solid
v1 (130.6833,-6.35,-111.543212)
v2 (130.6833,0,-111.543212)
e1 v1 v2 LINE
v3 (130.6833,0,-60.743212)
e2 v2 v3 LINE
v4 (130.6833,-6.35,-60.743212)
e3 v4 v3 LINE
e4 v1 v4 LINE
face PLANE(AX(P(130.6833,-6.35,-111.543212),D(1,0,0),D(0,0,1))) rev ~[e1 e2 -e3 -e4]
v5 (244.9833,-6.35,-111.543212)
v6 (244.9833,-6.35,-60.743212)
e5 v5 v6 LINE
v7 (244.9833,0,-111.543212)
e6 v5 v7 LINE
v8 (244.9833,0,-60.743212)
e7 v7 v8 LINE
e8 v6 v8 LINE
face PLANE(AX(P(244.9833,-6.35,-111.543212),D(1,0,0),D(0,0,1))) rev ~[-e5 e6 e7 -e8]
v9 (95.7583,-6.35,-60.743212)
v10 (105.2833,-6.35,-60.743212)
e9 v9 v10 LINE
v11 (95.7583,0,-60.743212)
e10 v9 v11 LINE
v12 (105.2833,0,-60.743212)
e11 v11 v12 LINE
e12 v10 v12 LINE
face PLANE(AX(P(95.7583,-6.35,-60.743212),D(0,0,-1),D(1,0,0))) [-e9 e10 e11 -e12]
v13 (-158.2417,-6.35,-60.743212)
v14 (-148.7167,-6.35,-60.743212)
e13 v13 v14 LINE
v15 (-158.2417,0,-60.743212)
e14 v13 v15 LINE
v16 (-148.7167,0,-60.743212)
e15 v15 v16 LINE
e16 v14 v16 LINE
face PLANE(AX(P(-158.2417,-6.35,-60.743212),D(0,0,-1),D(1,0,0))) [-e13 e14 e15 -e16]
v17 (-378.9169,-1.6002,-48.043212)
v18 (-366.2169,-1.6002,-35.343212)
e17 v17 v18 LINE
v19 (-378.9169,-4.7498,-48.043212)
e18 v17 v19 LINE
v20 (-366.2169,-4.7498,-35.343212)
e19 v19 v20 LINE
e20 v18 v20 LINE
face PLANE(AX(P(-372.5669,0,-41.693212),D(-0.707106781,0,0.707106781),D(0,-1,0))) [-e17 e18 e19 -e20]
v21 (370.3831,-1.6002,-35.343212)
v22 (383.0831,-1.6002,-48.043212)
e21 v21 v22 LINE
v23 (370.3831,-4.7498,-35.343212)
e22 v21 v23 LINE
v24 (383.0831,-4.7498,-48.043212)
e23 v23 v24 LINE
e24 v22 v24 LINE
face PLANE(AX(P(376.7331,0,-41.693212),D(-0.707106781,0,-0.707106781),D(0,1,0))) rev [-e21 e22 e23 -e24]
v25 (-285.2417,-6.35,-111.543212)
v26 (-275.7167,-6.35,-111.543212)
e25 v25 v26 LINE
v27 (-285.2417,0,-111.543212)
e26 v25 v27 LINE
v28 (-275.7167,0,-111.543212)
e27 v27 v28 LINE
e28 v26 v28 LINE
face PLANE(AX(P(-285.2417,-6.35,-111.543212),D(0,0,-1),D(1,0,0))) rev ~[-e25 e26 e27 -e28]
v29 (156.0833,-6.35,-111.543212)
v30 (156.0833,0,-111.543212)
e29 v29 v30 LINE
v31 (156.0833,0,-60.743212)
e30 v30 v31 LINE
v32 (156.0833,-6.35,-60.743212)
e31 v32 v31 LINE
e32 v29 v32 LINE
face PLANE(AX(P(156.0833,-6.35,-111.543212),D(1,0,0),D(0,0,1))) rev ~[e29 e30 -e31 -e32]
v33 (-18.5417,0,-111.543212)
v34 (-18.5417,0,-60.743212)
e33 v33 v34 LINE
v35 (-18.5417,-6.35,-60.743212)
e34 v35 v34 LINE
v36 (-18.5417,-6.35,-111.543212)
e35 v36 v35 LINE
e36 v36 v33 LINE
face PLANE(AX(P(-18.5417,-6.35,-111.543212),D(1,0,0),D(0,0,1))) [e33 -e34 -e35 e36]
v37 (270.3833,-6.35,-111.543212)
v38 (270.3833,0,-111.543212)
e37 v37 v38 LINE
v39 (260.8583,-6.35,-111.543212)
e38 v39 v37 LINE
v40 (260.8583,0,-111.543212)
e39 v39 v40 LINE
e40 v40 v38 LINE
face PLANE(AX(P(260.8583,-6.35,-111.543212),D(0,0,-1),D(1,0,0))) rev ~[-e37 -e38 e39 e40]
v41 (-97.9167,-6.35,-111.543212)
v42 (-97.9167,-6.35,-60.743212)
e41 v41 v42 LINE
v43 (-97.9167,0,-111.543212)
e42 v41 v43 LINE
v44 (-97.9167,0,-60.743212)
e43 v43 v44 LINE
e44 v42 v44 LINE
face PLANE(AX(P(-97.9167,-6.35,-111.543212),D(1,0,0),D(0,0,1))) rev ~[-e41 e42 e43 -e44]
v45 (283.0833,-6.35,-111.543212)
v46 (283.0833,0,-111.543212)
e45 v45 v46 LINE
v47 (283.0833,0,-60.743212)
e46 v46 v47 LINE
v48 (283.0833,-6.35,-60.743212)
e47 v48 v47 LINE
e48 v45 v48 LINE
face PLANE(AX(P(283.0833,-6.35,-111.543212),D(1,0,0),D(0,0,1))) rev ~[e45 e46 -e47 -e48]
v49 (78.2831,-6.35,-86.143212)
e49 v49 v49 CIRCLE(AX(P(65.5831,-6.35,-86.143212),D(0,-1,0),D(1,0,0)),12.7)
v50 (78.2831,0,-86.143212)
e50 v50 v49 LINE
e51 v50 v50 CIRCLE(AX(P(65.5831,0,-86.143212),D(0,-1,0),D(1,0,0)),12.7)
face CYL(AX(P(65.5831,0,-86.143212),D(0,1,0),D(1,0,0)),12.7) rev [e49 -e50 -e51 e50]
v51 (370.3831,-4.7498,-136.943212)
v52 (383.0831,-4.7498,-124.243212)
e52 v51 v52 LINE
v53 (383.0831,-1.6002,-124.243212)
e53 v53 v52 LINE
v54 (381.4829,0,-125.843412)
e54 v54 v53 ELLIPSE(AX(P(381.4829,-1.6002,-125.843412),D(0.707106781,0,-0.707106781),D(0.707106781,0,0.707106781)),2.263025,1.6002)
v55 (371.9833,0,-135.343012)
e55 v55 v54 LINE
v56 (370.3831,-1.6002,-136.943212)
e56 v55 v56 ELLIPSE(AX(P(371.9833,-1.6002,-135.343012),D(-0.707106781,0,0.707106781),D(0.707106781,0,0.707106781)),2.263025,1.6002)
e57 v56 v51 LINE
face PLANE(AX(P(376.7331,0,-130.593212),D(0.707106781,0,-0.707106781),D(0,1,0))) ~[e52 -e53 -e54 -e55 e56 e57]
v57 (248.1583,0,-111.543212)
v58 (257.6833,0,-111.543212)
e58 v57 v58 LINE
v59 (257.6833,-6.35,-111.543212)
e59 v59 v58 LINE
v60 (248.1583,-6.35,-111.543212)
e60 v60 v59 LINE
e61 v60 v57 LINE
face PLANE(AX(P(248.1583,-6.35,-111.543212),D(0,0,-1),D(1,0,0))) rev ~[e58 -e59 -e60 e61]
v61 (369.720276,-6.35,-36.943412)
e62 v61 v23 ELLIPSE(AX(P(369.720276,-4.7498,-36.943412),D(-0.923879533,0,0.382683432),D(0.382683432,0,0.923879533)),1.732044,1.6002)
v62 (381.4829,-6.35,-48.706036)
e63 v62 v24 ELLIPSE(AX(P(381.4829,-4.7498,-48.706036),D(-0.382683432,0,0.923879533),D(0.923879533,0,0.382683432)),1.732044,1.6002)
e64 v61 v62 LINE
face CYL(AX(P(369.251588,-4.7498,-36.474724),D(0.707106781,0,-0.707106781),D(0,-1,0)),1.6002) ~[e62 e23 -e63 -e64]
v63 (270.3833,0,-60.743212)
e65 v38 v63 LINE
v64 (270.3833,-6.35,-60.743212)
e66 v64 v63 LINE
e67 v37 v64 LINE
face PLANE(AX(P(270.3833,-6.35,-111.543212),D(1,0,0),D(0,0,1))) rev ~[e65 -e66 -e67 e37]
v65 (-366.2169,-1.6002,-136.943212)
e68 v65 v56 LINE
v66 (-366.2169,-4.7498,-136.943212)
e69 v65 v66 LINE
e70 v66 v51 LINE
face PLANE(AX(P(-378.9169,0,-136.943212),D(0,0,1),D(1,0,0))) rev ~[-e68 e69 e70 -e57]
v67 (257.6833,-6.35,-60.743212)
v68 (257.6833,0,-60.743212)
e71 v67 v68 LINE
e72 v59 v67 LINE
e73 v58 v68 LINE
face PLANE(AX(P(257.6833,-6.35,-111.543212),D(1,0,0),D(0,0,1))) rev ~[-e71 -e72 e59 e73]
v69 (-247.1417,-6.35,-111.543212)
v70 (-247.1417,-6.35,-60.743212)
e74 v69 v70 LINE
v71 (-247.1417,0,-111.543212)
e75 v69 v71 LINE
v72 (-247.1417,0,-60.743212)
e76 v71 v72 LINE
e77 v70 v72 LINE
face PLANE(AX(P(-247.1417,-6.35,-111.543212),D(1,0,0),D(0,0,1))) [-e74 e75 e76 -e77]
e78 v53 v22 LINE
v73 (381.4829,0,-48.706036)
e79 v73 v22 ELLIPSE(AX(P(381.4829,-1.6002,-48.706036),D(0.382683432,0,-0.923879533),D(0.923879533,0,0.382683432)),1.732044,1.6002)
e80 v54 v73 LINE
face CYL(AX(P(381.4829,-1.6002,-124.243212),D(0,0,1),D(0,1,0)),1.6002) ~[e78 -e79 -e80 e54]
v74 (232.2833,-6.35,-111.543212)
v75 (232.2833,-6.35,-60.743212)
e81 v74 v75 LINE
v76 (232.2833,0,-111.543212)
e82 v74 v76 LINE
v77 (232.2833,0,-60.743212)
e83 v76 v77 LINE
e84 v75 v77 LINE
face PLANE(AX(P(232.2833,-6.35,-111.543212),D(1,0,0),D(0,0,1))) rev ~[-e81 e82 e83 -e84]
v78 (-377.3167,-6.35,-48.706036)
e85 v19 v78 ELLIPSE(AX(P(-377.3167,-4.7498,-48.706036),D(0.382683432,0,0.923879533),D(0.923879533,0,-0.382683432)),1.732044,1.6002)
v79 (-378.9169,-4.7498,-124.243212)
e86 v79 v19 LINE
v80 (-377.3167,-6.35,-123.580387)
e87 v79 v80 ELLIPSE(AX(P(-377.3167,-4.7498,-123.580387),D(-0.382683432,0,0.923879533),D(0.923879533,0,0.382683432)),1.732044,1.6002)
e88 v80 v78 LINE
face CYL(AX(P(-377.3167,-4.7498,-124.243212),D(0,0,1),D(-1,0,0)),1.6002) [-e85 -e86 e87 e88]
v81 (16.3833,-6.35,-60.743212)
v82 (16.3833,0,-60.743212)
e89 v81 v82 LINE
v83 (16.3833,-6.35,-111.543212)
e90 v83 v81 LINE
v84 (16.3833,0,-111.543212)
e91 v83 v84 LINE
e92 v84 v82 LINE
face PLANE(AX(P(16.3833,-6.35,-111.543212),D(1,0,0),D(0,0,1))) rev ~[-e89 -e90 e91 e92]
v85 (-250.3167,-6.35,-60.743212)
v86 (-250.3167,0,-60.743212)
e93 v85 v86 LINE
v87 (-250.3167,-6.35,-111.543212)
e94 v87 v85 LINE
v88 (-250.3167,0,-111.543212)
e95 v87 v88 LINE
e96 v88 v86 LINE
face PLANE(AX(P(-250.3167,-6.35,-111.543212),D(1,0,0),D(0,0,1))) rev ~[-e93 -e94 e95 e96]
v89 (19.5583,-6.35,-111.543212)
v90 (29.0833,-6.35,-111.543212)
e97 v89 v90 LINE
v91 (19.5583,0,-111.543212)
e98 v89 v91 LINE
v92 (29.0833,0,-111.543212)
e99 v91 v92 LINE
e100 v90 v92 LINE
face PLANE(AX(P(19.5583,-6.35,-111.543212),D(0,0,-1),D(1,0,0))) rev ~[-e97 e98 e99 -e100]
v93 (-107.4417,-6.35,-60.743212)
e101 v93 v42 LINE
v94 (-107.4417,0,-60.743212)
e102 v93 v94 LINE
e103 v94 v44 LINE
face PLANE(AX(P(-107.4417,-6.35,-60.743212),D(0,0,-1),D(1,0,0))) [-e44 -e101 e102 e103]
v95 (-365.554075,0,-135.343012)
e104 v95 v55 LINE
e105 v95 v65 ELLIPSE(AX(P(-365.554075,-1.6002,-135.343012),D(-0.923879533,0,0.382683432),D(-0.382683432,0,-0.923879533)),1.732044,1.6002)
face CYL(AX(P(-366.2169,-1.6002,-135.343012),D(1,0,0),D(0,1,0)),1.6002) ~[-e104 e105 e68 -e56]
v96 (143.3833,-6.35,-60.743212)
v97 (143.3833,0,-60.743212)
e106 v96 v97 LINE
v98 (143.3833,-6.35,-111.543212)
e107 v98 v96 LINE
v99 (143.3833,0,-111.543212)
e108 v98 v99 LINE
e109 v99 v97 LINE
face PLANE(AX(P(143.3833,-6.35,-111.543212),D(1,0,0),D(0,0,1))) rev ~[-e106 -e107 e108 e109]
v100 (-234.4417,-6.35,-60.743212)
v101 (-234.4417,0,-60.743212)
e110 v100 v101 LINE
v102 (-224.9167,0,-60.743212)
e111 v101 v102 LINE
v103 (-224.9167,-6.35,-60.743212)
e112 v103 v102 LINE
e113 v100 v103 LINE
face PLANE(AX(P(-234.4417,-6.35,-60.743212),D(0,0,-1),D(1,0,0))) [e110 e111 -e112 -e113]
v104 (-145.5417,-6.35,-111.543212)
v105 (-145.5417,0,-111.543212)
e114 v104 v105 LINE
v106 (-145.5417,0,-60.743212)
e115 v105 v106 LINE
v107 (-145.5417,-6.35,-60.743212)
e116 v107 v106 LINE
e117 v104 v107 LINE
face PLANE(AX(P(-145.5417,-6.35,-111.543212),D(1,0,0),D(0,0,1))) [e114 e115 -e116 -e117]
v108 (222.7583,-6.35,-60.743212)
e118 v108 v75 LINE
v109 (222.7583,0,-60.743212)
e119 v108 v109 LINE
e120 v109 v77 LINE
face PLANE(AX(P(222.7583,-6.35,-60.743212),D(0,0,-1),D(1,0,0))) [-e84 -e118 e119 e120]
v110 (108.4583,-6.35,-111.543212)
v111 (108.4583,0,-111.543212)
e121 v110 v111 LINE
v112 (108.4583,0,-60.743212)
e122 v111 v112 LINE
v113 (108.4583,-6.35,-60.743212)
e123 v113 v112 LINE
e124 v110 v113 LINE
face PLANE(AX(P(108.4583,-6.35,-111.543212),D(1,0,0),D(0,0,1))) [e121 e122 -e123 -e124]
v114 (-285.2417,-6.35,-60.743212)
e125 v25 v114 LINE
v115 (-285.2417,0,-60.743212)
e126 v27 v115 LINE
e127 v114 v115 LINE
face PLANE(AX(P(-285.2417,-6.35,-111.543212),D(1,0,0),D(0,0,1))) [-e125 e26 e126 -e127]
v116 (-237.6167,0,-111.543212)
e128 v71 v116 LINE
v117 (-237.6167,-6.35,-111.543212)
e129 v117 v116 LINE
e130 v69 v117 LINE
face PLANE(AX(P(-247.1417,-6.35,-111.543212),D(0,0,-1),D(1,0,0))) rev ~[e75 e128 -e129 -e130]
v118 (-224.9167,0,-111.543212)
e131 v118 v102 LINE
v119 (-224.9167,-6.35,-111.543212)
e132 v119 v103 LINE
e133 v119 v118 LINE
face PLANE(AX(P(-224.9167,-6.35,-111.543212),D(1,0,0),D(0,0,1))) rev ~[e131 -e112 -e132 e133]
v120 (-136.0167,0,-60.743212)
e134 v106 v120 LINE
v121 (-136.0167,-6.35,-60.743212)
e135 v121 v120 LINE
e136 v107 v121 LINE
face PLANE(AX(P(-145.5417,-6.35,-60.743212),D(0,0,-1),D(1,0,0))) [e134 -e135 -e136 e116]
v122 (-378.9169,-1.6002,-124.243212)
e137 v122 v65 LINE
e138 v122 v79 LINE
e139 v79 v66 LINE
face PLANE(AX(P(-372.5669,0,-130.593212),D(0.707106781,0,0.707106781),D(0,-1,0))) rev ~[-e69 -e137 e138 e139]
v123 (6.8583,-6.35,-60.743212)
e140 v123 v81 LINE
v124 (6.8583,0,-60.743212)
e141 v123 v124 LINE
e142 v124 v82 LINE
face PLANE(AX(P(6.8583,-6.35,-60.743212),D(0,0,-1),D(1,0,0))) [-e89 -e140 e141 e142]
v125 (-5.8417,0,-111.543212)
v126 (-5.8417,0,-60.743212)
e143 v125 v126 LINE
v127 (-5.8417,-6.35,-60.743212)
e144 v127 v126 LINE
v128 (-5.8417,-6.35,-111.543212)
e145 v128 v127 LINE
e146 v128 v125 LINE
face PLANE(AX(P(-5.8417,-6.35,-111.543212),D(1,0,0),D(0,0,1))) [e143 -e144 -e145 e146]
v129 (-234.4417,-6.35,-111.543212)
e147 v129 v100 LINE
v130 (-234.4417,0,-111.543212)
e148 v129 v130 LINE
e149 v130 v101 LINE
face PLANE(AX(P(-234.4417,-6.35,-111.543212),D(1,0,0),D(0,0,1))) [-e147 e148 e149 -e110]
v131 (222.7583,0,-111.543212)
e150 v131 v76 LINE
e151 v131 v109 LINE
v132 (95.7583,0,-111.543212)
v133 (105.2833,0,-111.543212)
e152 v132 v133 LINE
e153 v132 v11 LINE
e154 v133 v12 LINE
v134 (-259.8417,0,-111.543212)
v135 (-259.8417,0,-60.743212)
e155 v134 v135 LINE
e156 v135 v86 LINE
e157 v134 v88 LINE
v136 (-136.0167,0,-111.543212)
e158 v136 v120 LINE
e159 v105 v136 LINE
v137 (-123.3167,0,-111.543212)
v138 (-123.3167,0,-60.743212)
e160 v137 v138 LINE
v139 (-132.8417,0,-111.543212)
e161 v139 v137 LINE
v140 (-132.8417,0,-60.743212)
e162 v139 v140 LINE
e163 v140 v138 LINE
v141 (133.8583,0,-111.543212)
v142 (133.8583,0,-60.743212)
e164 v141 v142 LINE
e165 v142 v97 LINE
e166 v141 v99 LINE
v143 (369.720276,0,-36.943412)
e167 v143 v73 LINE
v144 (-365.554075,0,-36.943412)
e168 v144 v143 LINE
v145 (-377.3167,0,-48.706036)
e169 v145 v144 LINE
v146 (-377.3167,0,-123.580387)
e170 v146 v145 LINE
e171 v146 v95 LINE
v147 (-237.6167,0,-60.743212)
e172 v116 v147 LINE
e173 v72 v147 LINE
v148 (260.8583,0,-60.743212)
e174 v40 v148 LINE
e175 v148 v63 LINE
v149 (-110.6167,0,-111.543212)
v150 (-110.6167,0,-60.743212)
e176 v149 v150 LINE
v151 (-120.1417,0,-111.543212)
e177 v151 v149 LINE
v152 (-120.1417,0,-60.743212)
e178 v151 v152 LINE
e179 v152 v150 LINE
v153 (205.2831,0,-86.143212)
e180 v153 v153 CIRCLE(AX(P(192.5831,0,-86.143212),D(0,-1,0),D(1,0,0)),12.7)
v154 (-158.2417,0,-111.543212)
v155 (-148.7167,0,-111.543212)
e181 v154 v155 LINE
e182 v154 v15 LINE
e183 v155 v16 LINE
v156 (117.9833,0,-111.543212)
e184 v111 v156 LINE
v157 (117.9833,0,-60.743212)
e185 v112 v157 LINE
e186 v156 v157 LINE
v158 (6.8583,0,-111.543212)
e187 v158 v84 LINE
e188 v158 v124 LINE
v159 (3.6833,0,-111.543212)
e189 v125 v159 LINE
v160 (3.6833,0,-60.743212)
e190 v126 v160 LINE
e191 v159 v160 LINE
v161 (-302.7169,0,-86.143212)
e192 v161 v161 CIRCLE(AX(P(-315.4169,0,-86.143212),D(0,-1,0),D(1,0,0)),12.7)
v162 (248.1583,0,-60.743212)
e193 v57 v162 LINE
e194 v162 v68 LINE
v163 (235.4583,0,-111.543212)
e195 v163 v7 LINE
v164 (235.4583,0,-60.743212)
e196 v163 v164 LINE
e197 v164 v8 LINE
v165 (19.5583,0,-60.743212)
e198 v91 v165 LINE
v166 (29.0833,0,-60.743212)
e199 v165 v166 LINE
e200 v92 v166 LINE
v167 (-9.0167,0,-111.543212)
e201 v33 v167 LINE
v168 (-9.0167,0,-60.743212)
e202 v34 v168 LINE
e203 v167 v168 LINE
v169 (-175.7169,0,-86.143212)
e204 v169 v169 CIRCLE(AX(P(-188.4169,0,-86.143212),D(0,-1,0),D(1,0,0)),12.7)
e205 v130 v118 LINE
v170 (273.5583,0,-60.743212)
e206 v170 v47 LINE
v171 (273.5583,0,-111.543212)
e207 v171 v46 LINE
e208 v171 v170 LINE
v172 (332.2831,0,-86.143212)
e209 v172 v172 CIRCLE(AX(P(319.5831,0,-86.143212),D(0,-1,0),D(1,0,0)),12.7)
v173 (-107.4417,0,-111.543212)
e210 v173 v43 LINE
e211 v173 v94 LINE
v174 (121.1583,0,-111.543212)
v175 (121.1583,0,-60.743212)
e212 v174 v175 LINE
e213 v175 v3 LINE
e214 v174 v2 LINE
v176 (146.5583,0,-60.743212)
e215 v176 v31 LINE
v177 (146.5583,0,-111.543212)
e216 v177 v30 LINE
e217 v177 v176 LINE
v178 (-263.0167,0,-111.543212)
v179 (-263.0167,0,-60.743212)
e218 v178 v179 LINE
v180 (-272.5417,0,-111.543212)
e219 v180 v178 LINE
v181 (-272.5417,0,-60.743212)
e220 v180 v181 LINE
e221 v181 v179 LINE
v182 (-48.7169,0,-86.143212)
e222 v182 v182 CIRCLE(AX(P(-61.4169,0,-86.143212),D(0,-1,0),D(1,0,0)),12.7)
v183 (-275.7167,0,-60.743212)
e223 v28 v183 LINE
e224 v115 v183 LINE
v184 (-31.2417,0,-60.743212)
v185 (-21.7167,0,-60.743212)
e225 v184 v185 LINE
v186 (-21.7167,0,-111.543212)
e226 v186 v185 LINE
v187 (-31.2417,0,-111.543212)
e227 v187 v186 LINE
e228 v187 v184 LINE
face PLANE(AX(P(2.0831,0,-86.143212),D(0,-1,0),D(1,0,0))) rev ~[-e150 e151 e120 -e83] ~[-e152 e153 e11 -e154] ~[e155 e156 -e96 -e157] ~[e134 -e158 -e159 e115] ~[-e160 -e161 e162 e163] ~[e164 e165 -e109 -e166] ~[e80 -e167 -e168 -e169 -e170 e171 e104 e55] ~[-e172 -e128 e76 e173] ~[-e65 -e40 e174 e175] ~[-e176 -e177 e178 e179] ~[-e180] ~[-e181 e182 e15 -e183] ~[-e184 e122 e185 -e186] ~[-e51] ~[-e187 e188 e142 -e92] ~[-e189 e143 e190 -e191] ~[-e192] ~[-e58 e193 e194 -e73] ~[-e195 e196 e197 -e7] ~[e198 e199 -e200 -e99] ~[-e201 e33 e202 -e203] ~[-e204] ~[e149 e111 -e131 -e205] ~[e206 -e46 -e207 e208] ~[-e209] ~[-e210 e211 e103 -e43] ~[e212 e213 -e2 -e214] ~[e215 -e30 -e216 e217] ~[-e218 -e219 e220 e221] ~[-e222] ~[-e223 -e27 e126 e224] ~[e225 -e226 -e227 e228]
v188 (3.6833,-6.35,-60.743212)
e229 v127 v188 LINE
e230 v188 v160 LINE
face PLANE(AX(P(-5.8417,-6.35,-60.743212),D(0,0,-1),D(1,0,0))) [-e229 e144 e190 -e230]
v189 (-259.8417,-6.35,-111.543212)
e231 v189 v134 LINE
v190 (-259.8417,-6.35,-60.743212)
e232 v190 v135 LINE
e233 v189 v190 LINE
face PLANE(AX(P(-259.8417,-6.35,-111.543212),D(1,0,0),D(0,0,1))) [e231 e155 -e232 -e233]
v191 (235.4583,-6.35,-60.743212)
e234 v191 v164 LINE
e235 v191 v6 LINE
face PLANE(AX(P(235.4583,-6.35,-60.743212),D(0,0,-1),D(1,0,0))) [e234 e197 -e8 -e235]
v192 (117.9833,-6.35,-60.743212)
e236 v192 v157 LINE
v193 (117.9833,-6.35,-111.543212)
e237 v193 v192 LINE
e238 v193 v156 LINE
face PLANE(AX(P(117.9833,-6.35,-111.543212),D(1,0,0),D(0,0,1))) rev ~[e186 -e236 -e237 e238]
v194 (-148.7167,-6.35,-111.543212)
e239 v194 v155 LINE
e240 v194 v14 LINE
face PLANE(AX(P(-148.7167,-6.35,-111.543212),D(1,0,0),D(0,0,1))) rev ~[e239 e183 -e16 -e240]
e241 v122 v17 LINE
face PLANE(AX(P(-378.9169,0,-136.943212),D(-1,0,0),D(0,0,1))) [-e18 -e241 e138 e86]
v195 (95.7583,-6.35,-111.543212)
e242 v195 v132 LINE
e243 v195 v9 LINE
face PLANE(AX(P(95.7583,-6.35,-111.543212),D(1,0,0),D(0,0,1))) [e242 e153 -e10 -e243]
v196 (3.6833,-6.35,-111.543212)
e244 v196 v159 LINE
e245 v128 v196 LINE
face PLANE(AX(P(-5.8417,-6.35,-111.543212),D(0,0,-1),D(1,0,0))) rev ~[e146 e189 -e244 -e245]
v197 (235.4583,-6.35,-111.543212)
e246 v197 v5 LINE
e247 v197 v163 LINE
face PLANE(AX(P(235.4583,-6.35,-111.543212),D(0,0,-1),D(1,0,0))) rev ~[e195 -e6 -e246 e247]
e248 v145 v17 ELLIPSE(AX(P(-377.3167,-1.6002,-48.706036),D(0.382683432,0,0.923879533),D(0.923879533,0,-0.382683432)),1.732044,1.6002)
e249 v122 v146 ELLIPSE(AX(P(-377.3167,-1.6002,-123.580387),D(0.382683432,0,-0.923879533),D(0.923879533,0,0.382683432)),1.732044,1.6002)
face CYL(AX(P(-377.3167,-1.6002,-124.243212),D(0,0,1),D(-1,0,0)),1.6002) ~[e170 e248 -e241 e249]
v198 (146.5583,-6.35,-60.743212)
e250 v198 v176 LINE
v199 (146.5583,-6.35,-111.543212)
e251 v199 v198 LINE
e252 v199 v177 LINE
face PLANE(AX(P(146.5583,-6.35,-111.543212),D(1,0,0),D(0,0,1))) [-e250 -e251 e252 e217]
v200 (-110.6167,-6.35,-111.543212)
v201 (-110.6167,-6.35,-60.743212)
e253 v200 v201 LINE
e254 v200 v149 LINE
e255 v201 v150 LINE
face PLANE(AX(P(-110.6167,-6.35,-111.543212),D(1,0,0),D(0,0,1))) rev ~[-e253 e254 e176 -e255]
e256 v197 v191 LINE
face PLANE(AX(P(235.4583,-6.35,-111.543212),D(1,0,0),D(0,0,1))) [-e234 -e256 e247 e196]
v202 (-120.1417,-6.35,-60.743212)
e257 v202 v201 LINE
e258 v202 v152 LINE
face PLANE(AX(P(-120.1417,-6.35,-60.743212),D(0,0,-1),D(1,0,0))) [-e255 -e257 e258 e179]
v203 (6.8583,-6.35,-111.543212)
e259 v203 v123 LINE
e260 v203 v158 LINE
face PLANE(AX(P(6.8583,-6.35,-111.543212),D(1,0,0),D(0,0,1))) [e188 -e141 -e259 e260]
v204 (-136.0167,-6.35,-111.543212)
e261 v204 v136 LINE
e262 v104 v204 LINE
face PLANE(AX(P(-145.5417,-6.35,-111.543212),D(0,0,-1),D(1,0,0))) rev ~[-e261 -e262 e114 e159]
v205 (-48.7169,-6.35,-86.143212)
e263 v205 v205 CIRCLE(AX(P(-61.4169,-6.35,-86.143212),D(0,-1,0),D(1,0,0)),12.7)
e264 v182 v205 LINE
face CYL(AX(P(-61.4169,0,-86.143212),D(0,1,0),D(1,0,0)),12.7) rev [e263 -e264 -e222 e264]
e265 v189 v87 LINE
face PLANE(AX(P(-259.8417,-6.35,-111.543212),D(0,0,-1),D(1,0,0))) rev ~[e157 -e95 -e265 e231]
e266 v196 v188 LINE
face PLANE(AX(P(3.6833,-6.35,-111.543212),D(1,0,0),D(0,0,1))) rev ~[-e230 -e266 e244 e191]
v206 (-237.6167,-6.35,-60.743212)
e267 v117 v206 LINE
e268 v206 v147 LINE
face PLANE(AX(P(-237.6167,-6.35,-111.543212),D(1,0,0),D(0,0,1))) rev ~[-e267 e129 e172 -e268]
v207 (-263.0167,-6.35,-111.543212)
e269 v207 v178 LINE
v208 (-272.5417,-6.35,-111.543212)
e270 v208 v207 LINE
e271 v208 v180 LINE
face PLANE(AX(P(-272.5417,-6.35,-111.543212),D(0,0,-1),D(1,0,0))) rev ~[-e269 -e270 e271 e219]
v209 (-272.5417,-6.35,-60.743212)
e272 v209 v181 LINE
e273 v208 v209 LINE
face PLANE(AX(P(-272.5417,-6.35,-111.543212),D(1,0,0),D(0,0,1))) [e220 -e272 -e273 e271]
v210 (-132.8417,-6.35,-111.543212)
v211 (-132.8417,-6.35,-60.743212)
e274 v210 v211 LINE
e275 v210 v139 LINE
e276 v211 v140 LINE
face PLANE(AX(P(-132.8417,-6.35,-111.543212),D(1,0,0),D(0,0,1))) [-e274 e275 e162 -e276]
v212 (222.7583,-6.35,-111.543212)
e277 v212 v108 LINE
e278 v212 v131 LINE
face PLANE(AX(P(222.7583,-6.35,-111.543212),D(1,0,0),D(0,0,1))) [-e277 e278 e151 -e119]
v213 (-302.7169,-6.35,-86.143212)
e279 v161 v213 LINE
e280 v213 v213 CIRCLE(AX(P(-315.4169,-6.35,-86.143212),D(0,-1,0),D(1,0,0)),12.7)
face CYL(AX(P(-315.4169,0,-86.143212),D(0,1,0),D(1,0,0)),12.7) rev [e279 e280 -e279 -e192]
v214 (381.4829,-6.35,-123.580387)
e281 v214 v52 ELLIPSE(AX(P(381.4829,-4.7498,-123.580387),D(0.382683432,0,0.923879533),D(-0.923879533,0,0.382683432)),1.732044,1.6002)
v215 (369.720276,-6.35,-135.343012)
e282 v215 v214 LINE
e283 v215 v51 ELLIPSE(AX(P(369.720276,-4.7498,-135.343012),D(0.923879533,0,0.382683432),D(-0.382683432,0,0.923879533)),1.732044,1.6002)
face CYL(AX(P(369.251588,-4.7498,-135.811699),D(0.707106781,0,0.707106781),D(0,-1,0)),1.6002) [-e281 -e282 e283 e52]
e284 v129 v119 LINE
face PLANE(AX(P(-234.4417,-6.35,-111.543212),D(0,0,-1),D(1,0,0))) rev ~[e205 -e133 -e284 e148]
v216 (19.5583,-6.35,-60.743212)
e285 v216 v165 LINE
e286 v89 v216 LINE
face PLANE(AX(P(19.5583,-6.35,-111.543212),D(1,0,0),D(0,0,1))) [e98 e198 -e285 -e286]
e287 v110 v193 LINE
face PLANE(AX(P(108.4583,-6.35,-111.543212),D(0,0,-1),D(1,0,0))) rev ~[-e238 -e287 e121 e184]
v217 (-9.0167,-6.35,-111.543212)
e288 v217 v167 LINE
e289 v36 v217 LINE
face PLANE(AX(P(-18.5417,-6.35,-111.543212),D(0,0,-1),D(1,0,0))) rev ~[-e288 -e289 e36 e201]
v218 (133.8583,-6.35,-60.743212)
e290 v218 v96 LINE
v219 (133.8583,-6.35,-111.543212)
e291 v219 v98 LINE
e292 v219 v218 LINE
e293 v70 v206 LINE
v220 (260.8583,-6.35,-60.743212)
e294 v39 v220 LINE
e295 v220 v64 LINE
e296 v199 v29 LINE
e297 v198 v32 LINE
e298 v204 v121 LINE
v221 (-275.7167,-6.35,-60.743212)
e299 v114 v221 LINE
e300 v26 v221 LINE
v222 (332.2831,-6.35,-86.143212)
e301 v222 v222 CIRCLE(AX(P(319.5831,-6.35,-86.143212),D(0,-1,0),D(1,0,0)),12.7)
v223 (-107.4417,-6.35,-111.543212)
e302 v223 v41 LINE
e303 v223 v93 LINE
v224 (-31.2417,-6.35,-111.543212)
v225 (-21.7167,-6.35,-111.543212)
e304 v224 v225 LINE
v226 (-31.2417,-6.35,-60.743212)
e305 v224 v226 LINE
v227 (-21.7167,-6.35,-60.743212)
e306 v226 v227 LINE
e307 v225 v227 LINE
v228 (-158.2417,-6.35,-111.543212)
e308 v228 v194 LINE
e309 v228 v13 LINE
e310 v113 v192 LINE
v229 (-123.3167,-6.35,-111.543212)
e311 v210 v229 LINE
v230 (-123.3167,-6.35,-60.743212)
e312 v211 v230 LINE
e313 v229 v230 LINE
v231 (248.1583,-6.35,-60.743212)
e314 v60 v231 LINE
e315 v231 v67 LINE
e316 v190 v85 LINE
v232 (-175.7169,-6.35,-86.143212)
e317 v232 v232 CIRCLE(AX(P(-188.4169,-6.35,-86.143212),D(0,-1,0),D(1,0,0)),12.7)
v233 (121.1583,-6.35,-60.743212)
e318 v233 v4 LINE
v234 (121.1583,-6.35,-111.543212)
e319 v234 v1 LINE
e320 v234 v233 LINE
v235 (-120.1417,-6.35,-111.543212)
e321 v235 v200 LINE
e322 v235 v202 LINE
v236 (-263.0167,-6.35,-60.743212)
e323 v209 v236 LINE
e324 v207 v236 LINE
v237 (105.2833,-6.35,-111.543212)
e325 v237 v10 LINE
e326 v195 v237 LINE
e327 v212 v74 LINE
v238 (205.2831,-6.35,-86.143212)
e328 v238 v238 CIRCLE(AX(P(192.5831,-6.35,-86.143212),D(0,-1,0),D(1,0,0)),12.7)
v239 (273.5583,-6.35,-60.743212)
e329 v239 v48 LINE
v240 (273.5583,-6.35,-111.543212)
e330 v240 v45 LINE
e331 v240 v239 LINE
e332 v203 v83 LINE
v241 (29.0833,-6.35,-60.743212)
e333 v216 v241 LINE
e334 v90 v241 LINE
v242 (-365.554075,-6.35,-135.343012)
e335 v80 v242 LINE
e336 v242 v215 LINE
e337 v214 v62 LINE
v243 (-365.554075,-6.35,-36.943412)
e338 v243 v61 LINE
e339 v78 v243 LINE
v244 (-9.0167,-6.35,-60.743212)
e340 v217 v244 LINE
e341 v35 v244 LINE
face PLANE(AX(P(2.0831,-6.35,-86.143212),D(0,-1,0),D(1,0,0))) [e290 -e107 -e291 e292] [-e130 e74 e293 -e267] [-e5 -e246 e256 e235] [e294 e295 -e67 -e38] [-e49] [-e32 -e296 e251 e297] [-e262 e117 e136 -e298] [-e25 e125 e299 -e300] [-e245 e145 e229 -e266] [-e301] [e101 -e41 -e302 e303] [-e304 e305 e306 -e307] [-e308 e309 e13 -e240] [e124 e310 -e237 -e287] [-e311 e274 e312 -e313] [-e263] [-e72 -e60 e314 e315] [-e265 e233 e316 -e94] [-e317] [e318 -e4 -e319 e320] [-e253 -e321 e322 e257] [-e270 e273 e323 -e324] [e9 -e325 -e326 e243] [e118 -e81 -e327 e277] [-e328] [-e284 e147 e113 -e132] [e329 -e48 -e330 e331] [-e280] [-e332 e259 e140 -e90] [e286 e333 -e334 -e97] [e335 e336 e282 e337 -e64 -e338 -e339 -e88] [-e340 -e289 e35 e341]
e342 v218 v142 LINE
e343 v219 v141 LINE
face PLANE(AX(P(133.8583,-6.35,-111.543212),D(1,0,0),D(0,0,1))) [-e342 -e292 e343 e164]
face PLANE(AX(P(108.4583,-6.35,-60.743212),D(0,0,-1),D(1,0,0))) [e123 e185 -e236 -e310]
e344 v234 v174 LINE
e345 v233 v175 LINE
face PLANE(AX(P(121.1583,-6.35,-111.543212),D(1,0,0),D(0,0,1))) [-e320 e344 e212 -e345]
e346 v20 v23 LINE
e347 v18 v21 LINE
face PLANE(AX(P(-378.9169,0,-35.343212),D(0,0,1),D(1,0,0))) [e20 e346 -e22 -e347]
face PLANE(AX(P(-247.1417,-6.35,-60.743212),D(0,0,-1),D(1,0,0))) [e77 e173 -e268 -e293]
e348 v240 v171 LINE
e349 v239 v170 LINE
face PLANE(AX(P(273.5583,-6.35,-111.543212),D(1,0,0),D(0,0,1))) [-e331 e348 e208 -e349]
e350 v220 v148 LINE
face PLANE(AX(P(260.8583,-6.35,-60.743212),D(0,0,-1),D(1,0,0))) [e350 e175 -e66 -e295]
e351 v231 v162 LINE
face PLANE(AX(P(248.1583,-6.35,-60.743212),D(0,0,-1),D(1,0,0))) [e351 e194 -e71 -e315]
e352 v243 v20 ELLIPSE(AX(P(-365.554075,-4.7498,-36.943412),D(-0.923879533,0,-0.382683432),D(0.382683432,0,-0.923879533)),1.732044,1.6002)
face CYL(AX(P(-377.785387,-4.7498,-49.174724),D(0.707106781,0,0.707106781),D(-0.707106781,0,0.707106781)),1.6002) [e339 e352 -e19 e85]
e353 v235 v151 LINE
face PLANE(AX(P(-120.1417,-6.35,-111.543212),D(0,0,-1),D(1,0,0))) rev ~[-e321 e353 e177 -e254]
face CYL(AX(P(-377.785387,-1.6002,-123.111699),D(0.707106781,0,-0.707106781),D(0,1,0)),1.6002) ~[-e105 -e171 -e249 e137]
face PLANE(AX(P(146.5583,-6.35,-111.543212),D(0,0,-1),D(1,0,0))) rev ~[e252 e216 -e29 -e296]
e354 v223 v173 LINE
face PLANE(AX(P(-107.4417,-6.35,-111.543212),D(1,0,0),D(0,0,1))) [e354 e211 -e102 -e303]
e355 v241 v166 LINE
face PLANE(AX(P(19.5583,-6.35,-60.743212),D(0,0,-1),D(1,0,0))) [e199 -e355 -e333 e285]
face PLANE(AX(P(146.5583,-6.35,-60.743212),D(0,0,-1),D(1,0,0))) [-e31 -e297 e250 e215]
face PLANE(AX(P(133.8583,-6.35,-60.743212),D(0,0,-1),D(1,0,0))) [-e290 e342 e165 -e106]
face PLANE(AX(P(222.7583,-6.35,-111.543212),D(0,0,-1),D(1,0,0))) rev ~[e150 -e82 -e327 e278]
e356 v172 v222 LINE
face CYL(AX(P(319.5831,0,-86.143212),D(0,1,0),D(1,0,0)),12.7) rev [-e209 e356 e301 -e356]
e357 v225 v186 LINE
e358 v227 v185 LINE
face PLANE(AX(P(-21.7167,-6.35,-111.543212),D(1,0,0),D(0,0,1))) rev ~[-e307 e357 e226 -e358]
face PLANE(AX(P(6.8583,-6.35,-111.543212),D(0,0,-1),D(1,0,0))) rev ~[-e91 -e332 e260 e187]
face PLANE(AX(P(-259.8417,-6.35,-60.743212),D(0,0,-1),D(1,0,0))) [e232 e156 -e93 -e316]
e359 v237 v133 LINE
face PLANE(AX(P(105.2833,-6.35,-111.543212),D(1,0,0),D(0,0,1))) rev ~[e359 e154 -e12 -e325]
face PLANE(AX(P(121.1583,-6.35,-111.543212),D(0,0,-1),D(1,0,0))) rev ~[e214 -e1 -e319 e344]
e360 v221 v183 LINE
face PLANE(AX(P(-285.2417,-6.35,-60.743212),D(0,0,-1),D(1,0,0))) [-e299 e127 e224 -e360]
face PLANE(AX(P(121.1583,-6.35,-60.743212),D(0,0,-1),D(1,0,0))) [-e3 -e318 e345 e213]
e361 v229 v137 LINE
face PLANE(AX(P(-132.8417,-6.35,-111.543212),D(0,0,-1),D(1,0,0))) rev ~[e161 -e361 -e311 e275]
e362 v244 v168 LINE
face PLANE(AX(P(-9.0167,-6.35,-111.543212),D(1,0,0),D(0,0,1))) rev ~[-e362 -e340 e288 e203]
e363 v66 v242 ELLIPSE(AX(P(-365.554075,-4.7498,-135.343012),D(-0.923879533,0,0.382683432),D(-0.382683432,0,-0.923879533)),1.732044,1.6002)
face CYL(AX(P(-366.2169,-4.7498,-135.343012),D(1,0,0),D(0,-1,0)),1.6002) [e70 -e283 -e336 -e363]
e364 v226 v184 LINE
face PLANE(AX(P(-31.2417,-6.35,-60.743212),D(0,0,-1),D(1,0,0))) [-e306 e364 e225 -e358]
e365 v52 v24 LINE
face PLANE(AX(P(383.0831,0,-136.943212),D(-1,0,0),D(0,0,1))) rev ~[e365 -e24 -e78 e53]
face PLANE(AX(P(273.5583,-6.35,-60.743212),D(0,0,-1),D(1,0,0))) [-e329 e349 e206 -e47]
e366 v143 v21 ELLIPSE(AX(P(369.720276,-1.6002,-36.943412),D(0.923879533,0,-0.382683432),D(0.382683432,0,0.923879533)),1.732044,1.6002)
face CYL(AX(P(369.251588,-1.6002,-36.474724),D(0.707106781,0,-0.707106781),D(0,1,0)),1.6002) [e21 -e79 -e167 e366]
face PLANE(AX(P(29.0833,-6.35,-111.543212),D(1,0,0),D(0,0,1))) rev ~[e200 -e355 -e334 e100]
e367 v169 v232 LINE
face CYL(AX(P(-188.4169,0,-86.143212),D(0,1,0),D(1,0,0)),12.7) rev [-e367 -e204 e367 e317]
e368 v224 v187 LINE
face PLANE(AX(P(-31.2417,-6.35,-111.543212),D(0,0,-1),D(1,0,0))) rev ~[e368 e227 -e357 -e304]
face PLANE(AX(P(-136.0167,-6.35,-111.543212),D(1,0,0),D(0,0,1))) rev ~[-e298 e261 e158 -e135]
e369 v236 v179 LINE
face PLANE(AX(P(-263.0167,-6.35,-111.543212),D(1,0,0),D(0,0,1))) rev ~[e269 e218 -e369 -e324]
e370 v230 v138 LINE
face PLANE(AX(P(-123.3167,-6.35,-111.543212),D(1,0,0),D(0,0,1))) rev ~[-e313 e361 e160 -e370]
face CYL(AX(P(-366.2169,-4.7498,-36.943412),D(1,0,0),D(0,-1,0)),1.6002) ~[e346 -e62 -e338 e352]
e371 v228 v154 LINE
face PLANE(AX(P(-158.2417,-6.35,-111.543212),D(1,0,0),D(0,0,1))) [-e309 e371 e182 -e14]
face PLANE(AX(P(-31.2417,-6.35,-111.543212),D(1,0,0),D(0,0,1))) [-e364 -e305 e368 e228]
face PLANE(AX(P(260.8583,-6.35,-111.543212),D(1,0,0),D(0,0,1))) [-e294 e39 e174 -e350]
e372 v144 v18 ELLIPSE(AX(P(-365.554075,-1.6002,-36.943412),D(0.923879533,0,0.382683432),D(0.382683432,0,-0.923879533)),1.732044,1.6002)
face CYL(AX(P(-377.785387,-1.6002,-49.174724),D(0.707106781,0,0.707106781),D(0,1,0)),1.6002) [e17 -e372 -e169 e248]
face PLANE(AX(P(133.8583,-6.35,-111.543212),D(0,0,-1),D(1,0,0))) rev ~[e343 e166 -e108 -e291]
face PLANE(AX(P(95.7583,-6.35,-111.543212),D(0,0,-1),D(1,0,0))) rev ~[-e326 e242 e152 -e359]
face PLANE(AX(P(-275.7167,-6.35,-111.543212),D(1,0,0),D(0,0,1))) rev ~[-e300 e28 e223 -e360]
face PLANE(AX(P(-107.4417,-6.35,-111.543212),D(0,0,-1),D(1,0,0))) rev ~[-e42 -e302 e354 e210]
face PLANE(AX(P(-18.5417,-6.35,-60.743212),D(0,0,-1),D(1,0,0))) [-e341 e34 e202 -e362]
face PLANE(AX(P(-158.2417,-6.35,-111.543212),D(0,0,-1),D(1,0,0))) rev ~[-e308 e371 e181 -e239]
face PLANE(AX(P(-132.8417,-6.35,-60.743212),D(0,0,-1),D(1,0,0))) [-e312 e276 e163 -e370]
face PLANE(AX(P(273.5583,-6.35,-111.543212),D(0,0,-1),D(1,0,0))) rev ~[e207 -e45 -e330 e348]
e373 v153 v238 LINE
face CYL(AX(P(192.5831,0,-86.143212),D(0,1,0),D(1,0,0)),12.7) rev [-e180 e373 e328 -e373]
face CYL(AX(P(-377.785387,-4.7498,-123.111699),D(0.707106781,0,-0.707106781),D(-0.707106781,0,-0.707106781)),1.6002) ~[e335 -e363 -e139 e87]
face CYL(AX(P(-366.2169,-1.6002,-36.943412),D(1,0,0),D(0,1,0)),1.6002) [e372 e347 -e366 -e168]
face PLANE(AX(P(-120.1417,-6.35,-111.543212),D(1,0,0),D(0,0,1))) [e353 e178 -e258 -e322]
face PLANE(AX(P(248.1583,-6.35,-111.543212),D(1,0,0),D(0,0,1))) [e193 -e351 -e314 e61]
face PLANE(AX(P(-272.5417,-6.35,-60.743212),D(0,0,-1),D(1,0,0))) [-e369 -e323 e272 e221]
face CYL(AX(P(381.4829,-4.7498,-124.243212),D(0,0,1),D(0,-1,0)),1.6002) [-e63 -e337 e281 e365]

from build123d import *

# Parameters (mm, degrees)
F0_W     = 762
F0_H     = 101.6
F0_R     = 12.7
F1_DEPTH = 6.35
F2_W     = 9.525
F2_H     = 50.8
F3_DEPTH = 25.4
F4_SIZE  = 12.7
F5_R     = 1.6002


with BuildPart() as f1:
    # F0 (on Front) → F1 (new body)
    with BuildSketch(Plane.XZ):
        with Locations((2.0831003785, -86.1432117217)):
            Rectangle(F0_W, F0_H)
        with Locations((-315.4168996215, -86.1432117217)):
            Circle(F0_R, mode=Mode.SUBTRACT)
        with Locations((65.5831003785, -86.1432117217)):
            Circle(F0_R, mode=Mode.SUBTRACT)
        with Locations((-188.4168996215, -86.1432117217)):
            Circle(F0_R, mode=Mode.SUBTRACT)
        with Locations((-61.4168996215, -86.1432117217)):
            Circle(F0_R, mode=Mode.SUBTRACT)
        with Locations((192.5831003785, -86.1432117217)):
            Circle(F0_R, mode=Mode.SUBTRACT)
        with Locations((319.5831003785, -86.1432117217)):
            Circle(F0_R, mode=Mode.SUBTRACT)
    extrude(amount=F1_DEPTH)

    # F2 (on face) → F3 (cut)
    with BuildSketch(Plane.XZ.offset(6.35)):
        with Locations((-280.4791996215, -86.1432117217)):
            Rectangle(F2_W, F2_H)
        with Locations((-267.7791996215, -86.1432117217)):
            Rectangle(F2_W, F2_H)
        with Locations((-255.0791996215, -86.1432117217)):
            Rectangle(F2_W, F2_H)
        with Locations((-242.3791996215, -86.1432117217)):
            Rectangle(F2_W, F2_H)
        with Locations((-229.6791996215, -86.1432117217)):
            Rectangle(F2_W, F2_H)
        with Locations((-153.4791996215, -86.1432117217)):
            Rectangle(F2_W, F2_H)
        with Locations((-140.7791996215, -86.1432117217)):
            Rectangle(F2_W, F2_H)
        with Locations((-128.0791996215, -86.1432117217)):
            Rectangle(F2_W, F2_H)
        with Locations((-115.3791996215, -86.1432117217)):
            Rectangle(F2_W, F2_H)
        with Locations((-102.6791996215, -86.1432117217)):
            Rectangle(F2_W, F2_H)
        with Locations((-26.4791996215, -86.1432117217)):
            Rectangle(F2_W, F2_H)
        with Locations((-13.7791996215, -86.1432117217)):
            Rectangle(F2_W, F2_H)
        with Locations((-1.0791996215, -86.1432117217)):
            Rectangle(F2_W, F2_H)
        with Locations((11.6208003785, -86.1432117217)):
            Rectangle(F2_W, F2_H)
        with Locations((24.3208003785, -86.1432117217)):
            Rectangle(F2_W, F2_H)
        with Locations((100.5208003785, -86.1432117217)):
            Rectangle(F2_W, F2_H)
        with Locations((113.2208003785, -86.1432117217)):
            Rectangle(F2_W, F2_H)
        with Locations((125.9208003785, -86.1432117217)):
            Rectangle(F2_W, F2_H)
        with Locations((138.6208003785, -86.1432117217)):
            Rectangle(F2_W, F2_H)
        with Locations((151.3208003785, -86.1432117217)):
            Rectangle(F2_W, F2_H)
        with Locations((227.5208003785, -86.1432117217)):
            Rectangle(F2_W, F2_H)
        with Locations((240.2208003785, -86.1432117217)):
            Rectangle(F2_W, F2_H)
        with Locations((252.9208003785, -86.1432117217)):
            Rectangle(F2_W, F2_H)
        with Locations((265.6208003785, -86.1432117217)):
            Rectangle(F2_W, F2_H)
        with Locations((278.3208003785, -86.1432117217)):
            Rectangle(F2_W, F2_H)
    extrude(amount=-F3_DEPTH, mode=Mode.SUBTRACT)

    # F4
    f4_edges = [f1.edges().sort_by_distance(p)[0] for p in [
        (-378.9169, -3.175, -35.343212),
        (-378.9169, -3.175, -136.943212),
        (383.0831, -3.175, -136.943212),
        (383.0831, -3.175, -35.343212),
    ]]
    chamfer(f4_edges, length=F4_SIZE)

    # F5
    f5_edges = [f1.edges().sort_by_distance(p)[0] for p in [
        (2.0831, -6.35, -35.343212),
        (2.0831, 0, -35.343212),
        (-372.5669, -6.35, -41.693212),
        (-372.5669, 0, -41.693212),
        (-378.9169, -6.35, -86.143212),
        (-378.9169, 0, -86.143212),
        (-372.5669, -6.35, -130.593212),
        (-372.5669, 0, -130.593212),
        (376.7331, 0, -41.693212),
        (376.7331, -6.35, -41.693212),
        (383.0831, 0, -86.143212),
        (383.0831, -6.35, -86.143212),
        (376.7331, -6.35, -130.593212),
        (2.0831, 0, -136.943212),
        (2.0831, -6.35, -136.943212),
    ]]
    fillet(f5_edges, radius=F5_R)


solid = f1.part
